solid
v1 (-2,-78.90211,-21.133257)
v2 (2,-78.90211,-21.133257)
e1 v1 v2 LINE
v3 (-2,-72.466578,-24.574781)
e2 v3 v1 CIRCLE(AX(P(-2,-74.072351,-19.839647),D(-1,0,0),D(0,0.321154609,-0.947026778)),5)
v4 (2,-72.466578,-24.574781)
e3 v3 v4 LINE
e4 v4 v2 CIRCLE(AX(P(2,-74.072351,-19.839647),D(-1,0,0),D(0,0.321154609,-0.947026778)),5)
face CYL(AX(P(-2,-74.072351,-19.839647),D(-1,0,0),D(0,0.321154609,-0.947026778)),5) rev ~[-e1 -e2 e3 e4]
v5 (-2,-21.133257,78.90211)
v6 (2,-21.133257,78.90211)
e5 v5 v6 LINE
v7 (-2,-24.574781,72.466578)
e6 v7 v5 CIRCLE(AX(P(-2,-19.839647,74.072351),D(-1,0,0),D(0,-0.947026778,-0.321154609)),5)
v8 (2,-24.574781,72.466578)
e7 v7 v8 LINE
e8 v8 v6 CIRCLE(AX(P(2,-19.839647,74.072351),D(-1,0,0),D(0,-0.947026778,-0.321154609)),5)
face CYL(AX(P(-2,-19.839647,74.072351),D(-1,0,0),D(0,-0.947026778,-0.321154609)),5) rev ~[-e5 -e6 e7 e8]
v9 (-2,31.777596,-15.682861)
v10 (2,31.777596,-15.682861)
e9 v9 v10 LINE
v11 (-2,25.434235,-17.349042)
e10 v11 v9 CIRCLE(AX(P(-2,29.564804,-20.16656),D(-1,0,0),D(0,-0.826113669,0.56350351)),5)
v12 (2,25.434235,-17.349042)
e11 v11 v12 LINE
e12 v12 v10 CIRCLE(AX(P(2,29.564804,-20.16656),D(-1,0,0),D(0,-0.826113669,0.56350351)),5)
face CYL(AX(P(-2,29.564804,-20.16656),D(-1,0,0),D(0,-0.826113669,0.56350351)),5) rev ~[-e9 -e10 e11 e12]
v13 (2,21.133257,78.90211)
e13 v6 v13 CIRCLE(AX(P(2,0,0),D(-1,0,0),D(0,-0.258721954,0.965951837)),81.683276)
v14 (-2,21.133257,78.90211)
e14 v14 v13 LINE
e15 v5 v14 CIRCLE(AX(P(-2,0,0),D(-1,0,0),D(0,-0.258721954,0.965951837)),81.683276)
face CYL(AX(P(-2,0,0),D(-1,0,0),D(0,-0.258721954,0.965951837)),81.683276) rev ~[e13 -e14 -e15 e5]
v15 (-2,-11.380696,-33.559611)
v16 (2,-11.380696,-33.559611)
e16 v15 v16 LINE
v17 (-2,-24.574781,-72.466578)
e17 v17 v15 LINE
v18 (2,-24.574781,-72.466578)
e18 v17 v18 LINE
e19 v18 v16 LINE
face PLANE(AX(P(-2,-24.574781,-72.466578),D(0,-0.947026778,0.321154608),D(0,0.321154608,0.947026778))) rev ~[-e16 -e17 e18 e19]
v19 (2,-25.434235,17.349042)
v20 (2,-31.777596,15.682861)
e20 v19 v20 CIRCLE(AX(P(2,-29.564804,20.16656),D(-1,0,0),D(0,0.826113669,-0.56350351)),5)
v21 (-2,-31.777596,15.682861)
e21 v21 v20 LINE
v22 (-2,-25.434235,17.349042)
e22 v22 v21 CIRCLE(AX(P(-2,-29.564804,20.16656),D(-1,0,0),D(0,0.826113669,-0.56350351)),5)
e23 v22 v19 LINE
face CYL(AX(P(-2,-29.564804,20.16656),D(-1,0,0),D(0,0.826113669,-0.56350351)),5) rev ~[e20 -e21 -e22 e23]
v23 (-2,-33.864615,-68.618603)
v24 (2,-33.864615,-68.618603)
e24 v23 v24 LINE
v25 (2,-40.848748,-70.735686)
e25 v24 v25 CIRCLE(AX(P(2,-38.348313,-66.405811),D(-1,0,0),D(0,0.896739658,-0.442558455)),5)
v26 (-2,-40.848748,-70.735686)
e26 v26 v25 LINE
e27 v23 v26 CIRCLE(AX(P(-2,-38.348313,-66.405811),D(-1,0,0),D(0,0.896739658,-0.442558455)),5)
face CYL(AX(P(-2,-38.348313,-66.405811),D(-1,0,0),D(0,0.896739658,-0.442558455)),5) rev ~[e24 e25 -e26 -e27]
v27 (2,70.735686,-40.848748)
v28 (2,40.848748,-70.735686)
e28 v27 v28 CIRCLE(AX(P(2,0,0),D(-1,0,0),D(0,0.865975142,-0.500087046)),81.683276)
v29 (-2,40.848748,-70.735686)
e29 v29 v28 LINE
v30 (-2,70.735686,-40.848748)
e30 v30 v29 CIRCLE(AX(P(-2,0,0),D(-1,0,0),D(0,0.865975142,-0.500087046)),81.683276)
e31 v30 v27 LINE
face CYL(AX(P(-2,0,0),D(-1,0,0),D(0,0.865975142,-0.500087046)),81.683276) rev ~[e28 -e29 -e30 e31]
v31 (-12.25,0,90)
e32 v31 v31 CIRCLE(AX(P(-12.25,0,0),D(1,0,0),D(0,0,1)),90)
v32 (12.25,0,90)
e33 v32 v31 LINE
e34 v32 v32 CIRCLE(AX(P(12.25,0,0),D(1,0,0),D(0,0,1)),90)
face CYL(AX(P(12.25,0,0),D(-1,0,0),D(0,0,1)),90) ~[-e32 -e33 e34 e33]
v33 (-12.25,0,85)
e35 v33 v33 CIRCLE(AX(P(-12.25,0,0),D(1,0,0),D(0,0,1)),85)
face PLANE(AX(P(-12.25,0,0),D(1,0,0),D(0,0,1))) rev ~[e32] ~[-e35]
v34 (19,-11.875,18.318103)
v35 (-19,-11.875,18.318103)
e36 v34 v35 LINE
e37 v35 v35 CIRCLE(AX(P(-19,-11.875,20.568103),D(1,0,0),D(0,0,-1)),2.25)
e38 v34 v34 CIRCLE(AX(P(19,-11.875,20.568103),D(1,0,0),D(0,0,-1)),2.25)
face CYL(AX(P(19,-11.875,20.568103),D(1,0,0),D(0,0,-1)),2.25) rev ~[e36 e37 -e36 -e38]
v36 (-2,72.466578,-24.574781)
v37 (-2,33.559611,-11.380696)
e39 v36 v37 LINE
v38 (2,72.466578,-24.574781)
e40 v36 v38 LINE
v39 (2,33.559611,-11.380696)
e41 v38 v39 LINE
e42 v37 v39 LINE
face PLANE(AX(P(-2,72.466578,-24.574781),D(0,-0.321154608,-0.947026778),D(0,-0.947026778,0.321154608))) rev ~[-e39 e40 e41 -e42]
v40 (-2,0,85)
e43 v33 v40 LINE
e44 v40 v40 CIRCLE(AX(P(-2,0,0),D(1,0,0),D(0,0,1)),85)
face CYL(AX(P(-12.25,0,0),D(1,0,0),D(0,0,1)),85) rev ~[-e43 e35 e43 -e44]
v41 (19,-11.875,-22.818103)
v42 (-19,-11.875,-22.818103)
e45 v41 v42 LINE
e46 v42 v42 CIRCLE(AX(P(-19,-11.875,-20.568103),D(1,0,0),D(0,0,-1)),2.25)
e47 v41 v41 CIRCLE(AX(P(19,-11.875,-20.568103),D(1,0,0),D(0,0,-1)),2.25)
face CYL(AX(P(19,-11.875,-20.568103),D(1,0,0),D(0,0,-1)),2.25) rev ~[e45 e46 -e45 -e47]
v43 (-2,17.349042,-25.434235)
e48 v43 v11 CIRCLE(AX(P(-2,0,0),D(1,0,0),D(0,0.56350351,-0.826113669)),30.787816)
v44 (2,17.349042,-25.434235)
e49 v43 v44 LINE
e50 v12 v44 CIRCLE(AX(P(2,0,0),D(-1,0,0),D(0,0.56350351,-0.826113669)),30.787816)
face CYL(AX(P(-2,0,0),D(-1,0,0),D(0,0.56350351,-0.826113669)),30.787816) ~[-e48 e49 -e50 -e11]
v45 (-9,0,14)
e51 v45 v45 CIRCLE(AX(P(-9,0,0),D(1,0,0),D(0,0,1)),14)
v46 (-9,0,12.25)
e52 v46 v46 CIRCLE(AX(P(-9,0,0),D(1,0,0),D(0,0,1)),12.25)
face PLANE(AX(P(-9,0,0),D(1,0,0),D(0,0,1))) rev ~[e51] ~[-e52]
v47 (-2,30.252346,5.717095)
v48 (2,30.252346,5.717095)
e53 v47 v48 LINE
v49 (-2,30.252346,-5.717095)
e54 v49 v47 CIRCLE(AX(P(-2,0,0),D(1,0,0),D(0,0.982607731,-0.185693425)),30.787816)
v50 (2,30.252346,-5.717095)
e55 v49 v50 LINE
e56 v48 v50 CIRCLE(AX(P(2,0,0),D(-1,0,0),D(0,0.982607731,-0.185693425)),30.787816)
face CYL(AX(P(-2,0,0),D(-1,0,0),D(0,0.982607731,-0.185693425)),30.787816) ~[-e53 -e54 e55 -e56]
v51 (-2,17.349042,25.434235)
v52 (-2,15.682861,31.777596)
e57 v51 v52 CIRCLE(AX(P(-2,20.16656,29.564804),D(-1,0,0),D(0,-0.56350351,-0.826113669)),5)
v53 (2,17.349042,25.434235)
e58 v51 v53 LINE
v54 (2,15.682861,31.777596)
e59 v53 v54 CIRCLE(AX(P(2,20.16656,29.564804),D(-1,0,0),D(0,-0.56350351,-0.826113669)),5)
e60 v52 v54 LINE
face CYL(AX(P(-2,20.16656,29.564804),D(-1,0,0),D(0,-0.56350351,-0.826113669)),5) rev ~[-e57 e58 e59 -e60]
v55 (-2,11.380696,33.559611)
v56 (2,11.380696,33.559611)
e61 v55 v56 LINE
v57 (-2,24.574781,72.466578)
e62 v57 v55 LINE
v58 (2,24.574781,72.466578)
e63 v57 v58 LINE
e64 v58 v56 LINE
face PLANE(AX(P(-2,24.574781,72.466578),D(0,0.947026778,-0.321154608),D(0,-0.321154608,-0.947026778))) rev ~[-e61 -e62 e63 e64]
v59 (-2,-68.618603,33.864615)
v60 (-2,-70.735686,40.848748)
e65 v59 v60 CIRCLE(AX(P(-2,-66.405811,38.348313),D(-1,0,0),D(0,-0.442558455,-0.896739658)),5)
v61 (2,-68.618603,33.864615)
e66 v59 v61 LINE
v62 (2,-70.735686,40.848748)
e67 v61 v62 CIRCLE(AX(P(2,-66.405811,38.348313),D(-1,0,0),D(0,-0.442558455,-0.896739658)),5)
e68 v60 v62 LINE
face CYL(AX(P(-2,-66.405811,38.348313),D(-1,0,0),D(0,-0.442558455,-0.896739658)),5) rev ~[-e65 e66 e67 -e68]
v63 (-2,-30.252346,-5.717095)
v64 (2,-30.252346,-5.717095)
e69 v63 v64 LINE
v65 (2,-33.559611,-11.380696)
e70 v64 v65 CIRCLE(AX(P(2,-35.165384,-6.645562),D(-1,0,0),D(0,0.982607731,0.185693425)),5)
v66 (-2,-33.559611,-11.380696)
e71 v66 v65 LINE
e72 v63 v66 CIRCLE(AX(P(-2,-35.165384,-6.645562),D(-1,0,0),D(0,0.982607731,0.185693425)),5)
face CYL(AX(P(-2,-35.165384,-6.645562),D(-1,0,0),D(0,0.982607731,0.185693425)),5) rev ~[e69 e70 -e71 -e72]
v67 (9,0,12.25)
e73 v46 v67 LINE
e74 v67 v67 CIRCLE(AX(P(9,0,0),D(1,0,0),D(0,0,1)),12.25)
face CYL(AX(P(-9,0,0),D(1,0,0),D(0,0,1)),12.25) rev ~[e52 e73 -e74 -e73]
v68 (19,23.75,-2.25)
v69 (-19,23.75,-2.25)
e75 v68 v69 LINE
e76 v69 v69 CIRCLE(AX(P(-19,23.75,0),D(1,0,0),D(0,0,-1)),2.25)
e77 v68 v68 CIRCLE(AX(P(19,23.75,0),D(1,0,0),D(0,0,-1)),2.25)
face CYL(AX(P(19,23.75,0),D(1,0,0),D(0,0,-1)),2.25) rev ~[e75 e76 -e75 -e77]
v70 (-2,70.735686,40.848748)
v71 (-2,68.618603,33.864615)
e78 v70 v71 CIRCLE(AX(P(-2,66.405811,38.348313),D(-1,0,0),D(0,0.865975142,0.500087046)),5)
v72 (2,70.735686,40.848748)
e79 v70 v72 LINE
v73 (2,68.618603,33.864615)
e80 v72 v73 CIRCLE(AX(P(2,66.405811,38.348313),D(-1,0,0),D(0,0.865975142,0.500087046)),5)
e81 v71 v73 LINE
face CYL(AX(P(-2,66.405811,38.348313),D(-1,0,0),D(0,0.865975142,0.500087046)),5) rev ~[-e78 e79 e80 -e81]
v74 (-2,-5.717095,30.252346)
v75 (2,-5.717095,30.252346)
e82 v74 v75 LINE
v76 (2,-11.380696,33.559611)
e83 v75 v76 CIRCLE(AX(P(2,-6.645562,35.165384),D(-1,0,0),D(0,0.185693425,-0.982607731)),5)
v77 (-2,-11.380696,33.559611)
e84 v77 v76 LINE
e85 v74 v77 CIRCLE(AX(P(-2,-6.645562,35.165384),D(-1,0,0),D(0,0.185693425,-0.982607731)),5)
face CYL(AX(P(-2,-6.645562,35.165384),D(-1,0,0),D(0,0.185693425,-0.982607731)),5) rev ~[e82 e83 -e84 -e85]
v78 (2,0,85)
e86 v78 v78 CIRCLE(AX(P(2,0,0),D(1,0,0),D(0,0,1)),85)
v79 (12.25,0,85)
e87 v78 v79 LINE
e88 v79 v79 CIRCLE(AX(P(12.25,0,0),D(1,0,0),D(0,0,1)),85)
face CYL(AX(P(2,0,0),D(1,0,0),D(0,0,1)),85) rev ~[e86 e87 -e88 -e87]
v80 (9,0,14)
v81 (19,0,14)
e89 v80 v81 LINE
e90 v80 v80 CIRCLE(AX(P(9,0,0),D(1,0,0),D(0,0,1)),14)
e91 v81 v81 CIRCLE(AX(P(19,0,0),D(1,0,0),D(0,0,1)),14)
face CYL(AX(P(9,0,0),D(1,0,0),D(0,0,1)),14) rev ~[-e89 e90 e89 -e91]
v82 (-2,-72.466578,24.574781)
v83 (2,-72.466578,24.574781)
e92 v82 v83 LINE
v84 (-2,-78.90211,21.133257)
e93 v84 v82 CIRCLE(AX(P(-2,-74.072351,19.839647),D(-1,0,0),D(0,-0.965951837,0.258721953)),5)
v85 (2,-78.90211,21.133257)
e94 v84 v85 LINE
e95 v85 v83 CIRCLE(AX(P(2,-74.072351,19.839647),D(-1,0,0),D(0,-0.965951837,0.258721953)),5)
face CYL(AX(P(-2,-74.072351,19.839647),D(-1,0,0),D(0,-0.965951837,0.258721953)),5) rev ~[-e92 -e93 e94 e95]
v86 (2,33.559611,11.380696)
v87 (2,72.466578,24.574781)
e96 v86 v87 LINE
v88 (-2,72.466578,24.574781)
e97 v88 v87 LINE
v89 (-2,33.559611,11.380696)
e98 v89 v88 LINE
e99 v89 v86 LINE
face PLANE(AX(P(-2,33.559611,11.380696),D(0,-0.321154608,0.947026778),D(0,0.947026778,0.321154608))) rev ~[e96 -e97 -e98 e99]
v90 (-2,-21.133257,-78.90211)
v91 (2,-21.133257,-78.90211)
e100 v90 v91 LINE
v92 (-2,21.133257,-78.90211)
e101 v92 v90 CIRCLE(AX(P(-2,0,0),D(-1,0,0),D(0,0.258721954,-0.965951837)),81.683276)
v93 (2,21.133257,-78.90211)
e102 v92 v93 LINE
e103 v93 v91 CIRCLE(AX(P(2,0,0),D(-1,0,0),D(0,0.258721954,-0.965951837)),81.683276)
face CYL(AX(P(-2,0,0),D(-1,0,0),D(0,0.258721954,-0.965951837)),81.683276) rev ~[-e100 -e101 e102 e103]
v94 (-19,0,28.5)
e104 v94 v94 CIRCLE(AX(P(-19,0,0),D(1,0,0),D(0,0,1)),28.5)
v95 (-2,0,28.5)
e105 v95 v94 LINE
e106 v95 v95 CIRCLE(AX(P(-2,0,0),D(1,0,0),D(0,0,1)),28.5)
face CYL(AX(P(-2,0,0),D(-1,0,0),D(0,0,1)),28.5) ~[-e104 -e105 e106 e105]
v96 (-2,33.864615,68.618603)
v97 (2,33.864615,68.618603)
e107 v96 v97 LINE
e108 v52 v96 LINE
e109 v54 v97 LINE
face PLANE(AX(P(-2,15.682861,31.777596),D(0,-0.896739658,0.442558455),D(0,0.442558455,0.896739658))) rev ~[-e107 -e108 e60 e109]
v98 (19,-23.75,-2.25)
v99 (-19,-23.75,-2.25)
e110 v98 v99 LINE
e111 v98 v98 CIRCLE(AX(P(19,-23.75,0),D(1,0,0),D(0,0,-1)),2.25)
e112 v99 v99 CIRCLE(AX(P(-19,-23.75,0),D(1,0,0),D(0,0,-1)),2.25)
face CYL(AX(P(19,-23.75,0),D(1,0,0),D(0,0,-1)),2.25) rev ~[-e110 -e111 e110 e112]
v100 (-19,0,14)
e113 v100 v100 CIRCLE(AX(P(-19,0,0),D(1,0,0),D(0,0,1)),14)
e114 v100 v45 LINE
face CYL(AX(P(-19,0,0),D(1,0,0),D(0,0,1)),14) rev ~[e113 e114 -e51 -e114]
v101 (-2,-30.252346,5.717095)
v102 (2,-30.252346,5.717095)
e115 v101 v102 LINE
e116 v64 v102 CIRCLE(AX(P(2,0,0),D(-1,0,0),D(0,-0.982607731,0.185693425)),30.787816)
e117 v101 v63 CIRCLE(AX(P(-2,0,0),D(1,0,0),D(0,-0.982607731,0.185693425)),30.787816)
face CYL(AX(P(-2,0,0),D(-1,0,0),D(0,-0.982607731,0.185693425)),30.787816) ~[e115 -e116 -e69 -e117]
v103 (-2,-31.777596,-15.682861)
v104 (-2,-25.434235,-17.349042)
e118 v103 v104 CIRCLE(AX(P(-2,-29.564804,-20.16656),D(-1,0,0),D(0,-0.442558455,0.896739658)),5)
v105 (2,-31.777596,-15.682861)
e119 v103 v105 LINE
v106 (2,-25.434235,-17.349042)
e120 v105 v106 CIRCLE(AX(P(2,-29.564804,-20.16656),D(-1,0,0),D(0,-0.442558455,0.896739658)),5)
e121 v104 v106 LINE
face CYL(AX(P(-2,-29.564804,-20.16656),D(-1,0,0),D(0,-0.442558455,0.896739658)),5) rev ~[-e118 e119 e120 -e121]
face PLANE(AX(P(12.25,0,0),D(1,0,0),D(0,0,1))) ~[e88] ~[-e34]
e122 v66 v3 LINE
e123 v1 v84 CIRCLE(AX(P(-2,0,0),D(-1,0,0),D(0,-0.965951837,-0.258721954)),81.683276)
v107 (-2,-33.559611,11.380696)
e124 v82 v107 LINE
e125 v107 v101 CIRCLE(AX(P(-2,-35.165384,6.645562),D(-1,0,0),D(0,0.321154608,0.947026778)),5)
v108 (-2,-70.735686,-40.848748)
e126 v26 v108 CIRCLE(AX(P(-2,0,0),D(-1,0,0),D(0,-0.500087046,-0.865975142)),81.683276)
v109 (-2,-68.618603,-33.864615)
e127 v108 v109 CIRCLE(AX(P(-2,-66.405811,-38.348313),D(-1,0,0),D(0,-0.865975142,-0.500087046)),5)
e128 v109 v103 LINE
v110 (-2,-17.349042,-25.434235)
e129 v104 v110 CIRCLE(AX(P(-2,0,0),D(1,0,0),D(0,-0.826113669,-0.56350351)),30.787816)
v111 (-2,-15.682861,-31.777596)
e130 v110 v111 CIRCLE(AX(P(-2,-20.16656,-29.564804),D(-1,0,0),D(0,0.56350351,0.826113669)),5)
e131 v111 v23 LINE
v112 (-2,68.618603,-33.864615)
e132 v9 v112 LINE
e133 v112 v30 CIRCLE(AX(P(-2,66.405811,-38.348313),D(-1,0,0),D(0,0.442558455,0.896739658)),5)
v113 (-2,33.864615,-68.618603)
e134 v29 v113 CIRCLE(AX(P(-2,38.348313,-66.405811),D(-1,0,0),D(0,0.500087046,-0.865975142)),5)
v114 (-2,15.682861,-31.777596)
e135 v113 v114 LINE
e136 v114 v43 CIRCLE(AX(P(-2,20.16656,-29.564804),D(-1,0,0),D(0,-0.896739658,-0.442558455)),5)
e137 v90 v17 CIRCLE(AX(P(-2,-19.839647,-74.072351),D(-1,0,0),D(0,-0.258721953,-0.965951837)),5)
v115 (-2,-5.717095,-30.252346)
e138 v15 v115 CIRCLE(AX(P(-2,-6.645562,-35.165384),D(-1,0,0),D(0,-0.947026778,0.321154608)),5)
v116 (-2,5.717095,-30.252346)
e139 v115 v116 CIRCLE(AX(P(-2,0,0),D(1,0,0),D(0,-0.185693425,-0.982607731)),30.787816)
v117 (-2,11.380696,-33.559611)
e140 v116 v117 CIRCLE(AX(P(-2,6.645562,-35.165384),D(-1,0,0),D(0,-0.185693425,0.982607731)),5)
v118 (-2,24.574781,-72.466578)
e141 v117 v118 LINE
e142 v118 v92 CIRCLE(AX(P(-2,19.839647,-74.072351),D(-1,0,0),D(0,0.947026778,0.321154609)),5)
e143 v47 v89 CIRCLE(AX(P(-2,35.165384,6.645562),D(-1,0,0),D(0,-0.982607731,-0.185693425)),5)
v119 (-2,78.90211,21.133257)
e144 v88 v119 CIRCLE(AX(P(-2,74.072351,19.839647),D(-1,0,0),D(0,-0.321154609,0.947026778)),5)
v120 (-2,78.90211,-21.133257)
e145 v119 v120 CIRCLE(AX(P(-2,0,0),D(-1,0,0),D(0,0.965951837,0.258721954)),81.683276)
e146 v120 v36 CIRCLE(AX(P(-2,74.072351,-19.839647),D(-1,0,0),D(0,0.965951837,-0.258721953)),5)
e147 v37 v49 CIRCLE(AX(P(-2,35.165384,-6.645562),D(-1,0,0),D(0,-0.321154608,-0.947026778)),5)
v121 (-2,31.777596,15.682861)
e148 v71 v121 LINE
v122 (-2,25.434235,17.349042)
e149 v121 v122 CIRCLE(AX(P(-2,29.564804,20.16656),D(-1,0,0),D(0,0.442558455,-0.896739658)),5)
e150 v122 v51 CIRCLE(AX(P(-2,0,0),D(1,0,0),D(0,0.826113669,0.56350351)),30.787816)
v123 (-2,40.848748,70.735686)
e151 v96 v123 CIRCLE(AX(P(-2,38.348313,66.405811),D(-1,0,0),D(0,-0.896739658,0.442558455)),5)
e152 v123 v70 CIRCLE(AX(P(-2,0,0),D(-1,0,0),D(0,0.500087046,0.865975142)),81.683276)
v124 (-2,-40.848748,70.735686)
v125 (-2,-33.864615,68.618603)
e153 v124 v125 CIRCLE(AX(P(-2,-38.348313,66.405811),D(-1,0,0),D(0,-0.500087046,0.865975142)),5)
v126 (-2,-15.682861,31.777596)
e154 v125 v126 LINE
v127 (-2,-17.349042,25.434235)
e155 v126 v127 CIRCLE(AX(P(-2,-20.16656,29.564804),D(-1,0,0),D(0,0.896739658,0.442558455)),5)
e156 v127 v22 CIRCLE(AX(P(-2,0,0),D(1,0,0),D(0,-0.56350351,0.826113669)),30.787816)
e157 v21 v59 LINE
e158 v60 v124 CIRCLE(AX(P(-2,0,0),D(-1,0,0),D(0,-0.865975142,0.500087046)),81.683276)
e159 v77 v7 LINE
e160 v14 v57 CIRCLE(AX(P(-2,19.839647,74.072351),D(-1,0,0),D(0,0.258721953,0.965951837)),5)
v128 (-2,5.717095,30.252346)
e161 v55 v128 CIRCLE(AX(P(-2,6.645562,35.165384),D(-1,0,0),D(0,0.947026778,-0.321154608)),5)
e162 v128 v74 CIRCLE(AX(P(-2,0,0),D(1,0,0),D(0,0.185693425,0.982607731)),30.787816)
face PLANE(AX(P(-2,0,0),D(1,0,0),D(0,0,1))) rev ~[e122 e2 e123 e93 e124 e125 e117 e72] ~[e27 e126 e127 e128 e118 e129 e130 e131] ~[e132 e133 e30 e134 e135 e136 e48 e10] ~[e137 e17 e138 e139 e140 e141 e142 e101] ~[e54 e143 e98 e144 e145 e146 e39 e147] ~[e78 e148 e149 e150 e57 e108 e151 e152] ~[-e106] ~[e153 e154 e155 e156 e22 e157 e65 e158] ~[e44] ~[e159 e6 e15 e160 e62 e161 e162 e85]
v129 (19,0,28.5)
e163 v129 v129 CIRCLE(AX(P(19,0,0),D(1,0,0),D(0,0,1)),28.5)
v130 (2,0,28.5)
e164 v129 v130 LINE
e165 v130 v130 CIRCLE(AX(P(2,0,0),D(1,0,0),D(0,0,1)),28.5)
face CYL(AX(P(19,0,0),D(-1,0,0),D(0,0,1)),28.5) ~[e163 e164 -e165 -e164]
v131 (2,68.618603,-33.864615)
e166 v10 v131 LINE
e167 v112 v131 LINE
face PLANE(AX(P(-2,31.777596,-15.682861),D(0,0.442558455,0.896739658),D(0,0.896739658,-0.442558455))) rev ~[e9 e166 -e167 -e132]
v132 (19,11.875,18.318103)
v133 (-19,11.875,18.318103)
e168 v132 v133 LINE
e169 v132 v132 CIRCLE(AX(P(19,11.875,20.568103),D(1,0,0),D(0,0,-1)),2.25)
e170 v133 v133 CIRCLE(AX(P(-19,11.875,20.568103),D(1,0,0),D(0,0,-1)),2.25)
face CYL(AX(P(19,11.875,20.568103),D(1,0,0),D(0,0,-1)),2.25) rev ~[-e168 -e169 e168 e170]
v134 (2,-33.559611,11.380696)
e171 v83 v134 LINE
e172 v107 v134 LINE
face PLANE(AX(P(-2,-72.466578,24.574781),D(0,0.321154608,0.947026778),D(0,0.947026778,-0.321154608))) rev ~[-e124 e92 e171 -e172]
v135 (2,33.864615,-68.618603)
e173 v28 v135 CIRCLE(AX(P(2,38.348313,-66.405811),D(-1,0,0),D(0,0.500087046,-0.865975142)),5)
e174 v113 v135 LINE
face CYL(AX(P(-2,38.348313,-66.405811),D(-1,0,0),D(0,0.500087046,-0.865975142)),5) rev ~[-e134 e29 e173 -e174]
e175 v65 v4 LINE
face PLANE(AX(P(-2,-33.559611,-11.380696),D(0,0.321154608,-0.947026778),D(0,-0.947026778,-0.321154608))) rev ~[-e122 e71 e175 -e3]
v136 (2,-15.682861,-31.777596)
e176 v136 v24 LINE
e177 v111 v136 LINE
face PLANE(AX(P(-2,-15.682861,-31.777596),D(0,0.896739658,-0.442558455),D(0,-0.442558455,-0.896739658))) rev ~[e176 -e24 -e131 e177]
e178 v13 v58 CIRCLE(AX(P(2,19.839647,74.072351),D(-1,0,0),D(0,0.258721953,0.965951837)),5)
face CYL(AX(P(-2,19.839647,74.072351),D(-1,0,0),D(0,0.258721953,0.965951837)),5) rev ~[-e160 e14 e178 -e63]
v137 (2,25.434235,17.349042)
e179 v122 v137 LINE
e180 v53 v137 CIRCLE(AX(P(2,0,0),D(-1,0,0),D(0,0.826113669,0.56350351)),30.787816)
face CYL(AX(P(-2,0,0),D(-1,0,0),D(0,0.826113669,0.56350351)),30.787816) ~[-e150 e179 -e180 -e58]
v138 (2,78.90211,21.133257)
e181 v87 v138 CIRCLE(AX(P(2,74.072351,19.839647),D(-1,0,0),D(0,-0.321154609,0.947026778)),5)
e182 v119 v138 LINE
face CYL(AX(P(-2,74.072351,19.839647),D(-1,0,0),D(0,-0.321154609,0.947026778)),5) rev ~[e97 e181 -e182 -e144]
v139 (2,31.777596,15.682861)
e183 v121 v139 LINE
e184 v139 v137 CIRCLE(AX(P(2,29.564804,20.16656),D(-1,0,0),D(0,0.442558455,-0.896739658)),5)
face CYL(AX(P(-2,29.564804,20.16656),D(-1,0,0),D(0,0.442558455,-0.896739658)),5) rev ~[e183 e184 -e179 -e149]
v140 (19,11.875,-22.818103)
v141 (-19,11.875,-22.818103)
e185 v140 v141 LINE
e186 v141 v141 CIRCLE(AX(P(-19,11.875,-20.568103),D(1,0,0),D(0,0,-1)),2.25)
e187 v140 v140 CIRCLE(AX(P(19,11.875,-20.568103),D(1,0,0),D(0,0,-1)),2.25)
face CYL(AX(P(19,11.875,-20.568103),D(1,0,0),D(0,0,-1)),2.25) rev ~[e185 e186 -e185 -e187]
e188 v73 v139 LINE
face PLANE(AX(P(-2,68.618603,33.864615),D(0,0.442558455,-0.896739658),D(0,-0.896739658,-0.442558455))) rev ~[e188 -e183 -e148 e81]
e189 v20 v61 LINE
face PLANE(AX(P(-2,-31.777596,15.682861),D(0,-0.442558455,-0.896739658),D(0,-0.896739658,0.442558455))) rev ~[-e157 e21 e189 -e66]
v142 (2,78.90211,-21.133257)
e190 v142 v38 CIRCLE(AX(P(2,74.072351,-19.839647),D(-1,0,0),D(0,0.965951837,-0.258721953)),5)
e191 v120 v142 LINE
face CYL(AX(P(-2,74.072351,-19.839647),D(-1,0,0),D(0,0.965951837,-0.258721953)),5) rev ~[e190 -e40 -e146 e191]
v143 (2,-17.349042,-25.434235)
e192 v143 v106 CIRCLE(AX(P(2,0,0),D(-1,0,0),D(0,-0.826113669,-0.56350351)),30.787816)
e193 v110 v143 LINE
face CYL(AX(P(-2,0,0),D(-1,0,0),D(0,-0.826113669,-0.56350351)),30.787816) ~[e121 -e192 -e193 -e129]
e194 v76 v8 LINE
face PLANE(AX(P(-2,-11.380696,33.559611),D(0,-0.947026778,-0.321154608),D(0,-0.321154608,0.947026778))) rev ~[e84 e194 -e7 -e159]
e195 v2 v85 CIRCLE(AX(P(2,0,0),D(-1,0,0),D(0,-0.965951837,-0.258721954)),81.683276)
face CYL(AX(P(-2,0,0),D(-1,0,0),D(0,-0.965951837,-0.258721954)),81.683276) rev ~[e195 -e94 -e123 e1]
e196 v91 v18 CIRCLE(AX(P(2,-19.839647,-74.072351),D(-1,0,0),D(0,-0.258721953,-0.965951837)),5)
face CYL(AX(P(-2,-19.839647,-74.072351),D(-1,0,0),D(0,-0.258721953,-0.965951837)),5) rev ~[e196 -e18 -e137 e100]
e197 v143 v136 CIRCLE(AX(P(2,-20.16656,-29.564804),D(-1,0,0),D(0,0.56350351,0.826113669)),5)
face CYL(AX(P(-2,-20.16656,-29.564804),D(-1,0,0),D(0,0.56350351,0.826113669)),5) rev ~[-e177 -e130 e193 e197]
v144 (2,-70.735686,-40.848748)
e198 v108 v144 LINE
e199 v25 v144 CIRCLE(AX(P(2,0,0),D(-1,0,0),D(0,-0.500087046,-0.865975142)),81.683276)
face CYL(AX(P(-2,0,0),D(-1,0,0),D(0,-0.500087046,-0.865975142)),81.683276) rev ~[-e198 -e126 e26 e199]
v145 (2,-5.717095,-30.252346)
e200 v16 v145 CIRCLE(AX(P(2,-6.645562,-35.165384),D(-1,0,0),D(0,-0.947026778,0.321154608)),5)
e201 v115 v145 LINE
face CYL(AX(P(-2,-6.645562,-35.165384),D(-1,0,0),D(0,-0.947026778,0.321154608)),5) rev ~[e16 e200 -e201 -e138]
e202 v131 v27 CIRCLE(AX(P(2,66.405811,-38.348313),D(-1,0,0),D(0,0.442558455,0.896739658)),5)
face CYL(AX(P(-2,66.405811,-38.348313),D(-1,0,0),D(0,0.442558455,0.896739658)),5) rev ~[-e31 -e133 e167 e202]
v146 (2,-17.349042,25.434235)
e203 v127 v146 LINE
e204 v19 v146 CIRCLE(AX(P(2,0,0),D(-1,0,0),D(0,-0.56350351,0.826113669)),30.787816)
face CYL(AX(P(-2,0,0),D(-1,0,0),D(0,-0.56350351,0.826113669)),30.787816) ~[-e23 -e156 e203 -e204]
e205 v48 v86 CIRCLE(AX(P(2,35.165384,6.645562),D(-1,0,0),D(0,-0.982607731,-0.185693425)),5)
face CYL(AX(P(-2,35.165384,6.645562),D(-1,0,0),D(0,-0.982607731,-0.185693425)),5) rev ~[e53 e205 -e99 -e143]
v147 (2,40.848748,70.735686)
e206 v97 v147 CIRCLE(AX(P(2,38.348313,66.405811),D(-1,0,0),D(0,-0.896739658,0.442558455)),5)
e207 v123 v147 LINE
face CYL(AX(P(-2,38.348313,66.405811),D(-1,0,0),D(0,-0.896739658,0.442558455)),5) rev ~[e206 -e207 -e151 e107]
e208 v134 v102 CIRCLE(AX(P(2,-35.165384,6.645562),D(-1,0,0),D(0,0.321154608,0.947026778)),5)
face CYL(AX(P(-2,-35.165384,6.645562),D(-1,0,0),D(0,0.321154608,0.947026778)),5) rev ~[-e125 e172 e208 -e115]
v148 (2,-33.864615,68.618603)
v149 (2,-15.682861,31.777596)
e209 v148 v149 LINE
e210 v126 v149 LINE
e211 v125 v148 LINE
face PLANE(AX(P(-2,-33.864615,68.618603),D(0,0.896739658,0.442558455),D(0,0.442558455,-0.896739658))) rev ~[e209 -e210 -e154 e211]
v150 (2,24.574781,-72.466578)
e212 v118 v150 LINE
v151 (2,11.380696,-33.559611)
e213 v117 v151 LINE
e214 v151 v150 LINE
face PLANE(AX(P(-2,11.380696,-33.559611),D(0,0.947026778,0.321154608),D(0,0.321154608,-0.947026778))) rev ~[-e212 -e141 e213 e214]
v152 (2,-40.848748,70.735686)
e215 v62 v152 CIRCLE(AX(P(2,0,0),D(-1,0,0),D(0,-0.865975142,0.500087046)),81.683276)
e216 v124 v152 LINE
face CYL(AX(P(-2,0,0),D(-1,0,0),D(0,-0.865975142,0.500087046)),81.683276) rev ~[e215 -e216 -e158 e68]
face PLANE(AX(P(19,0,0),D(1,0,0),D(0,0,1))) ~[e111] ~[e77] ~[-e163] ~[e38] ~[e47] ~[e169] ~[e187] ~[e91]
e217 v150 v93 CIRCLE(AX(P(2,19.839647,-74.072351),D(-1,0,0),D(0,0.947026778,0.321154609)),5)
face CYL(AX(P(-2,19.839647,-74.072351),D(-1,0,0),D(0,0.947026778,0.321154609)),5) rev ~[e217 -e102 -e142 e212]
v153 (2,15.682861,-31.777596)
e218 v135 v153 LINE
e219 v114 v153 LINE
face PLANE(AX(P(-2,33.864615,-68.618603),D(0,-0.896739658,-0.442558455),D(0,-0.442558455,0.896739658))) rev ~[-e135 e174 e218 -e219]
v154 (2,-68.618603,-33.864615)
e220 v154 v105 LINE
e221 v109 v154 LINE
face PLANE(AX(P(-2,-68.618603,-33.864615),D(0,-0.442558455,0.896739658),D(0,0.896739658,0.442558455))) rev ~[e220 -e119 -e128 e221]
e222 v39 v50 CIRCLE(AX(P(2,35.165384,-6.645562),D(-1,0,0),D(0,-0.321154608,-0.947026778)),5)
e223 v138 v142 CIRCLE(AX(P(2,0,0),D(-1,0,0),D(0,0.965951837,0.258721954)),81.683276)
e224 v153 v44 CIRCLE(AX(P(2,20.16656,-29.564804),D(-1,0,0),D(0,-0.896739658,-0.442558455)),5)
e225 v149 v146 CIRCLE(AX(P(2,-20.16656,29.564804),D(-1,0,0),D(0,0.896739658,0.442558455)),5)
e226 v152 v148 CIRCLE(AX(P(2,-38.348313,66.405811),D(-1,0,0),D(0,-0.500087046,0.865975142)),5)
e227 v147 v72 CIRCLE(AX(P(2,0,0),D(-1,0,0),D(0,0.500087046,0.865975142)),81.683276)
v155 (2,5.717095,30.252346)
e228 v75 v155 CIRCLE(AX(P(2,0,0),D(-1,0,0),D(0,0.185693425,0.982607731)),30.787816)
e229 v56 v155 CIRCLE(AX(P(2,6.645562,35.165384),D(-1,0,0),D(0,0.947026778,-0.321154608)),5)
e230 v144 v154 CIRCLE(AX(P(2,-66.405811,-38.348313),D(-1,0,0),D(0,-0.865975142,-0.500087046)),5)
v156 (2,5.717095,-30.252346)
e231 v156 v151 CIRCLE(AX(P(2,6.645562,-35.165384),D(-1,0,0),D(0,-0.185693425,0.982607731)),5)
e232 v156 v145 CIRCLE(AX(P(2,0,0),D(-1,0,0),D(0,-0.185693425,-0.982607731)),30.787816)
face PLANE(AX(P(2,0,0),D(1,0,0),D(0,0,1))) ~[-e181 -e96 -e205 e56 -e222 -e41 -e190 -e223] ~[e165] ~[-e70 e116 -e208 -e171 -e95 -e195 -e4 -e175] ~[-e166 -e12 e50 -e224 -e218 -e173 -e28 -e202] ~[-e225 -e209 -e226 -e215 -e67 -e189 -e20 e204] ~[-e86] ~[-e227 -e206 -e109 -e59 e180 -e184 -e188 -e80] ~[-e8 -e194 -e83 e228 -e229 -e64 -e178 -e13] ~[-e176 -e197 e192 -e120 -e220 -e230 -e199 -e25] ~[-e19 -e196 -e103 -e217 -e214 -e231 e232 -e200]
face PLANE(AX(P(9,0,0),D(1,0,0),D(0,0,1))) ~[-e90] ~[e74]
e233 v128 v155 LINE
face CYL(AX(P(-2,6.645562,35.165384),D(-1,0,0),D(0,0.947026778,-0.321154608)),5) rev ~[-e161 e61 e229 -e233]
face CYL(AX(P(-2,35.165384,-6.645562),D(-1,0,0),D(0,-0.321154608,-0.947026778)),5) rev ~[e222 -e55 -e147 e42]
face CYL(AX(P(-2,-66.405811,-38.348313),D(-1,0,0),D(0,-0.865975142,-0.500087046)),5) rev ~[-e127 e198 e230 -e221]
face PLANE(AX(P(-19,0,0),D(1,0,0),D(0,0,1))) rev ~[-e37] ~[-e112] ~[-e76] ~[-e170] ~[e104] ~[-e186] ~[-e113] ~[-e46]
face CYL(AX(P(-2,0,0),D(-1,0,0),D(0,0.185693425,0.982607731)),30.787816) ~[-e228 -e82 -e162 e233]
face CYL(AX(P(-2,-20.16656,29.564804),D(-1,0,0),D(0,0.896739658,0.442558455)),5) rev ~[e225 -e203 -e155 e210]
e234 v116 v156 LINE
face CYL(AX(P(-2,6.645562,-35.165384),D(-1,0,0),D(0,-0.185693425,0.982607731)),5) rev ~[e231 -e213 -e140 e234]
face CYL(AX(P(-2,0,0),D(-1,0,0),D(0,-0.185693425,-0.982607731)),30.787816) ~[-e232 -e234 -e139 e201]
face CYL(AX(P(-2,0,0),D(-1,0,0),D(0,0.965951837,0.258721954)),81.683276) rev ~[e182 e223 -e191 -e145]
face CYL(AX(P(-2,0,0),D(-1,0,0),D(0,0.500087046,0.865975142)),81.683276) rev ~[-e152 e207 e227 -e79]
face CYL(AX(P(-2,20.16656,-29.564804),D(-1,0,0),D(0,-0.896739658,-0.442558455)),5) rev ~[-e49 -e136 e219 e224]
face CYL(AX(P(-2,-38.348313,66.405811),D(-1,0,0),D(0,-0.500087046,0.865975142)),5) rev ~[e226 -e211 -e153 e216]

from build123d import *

# Parameters (mm, degrees)
SKETCH2_R          = 2.25
CUT_EXTRUDE1_DEPTH = 40
CUT_EXTRUDE2_DEPTH = 40


with BuildPart() as part:
    # Sketch1 → Revolve1 (revolve)
    with BuildSketch(Plane(origin=(0, 0, 0), x_dir=(1, 0, 0), z_dir=(0, 1, 0)), mode=Mode.PRIVATE) as revolve1_sk:
        Polygon((-9, 12.25), (9, 12.25), (9, 14), (19, 14), (19, 28.5), (2, 28.5), (2, 85), (12.25, 85), (12.25, 90), (-12.25, 90), (-12.25, 85), (-2, 85), (-2, 28.5), (-19, 28.5), (-19, 14), (-9, 14), align=None)
    revolve(revolve1_sk.sketch.rotate(Axis((0, 0, 0), (1, 0, 0)), 180), axis=Axis((0, 0, 0), (1, 0, 0)))

    # Sketch2 → Cut-Extrude1 (cut)
    with BuildSketch(Plane(origin=(19, 0, 0), x_dir=(0, 0, -1), z_dir=(1, 0, 0))):
        with Locations((0, 23.75)):
            Circle(SKETCH2_R)
        with Locations((20.56810334, 11.875)):
            Circle(SKETCH2_R)
        with Locations((20.56810334, -11.875)):
            Circle(SKETCH2_R)
        with Locations((0, -23.75)):
            Circle(SKETCH2_R)
        with Locations((-20.56810334, -11.875)):
            Circle(SKETCH2_R)
        with Locations((-20.56810334, 11.875)):
            Circle(SKETCH2_R)
    extrude(amount=-CUT_EXTRUDE1_DEPTH, mode=Mode.SUBTRACT)

    # Sketch3 → Cut-Extrude2 (cut)
    with BuildSketch(Plane.ZY.offset(2)):
        with BuildLine():
            Line((33.864614623, 68.618602963), (15.68286139, 31.777595908))
            ThreePointArc((15.68286139, 31.777595908), (15.330601224, 28.294565139), (17.34904213, 25.434235286))
            ThreePointArc((17.34904213, 25.434235286), (21.770273165, 21.770273165), (25.434235286, 17.34904213))
            ThreePointArc((25.434235286, 17.34904213), (28.294565139, 15.330601224), (31.777595908, 15.68286139))
            Line((31.777595908, 15.68286139), (68.618602963, 33.864614623))
            ThreePointArc((68.618602963, 33.864614623), (71.190803513, 36.897849656), (70.735686396, 40.848748142))
            ThreePointArc((70.735686396, 40.848748142), (57.758798268, 57.758798268), (40.848748142, 70.735686396))
            ThreePointArc((40.848748142, 70.735686396), (36.897849656, 71.190803513), (33.864614623, 68.618602963))
        make_face()
        with BuildLine():
            Line((72.466578112, 24.574780828), (33.559611194, 11.380695919))
            ThreePointArc((33.559611194, 11.380695919), (30.847650966, 9.166906795), (30.252345582, 5.717094908))
            ThreePointArc((30.252345582, 5.717094908), (30.787815567, 0), (30.252345582, -5.717094908))
            ThreePointArc((30.252345582, -5.717094908), (30.847650966, -9.166906795), (33.559611194, -11.380695919))
            Line((33.559611194, -11.380695919), (72.466578112, -24.574780828))
            ThreePointArc((72.466578112, -24.574780828), (76.430219625, -24.248780219), (78.902110336, -21.133256708))
            ThreePointArc((78.902110336, -21.133256708), (81.683275856, 0), (78.902110336, 21.133256708))
            ThreePointArc((78.902110336, 21.133256708), (76.430219625, 24.248780219), (72.466578112, 24.574780828))
        make_face()
        with BuildLine():
            Line((-24.574780828, 72.466578112), (-11.380695919, 33.559611194))
            ThreePointArc((-11.380695919, 33.559611194), (-9.166906795, 30.847650966), (-5.717094908, 30.252345582))
            ThreePointArc((-5.717094908, 30.252345582), (0, 30.787815567), (5.717094908, 30.252345582))
            ThreePointArc((5.717094908, 30.252345582), (9.166906795, 30.847650966), (11.380695919, 33.559611194))
            Line((11.380695919, 33.559611194), (24.574780828, 72.466578112))
            ThreePointArc((24.574780828, 72.466578112), (24.248780219, 76.430219625), (21.133256708, 78.902110336))
            ThreePointArc((21.133256708, 78.902110336), (0, 81.683275856), (-21.133256708, 78.902110336))
            ThreePointArc((-21.133256708, 78.902110336), (-24.248780219, 76.430219625), (-24.574780828, 72.466578112))
        make_face()
        with BuildLine():
            Line((68.618602963, -33.864614623), (31.777595908, -15.68286139))
            ThreePointArc((31.777595908, -15.68286139), (28.294565139, -15.330601224), (25.434235286, -17.34904213))
            ThreePointArc((25.434235286, -17.34904213), (21.770273165, -21.770273165), (17.34904213, -25.434235286))
            ThreePointArc((17.34904213, -25.434235286), (15.330601224, -28.294565139), (15.68286139, -31.777595908))
            Line((15.68286139, -31.777595908), (33.864614623, -68.618602963))
            ThreePointArc((33.864614623, -68.618602963), (36.897849656, -71.190803513), (40.848748142, -70.735686396))
            ThreePointArc((40.848748142, -70.735686396), (57.758798268, -57.758798268), (70.735686396, -40.848748142))
            ThreePointArc((70.735686396, -40.848748142), (71.190803513, -36.897849656), (68.618602963, -33.864614623))
        make_face()
        with BuildLine():
            Line((24.574780828, -72.466578112), (11.380695919, -33.559611194))
            ThreePointArc((11.380695919, -33.559611194), (9.166906795, -30.847650966), (5.717094908, -30.252345582))
            ThreePointArc((5.717094908, -30.252345582), (0, -30.787815567), (-5.717094908, -30.252345582))
            ThreePointArc((-5.717094908, -30.252345582), (-9.166906795, -30.847650966), (-11.380695919, -33.559611194))
            Line((-11.380695919, -33.559611194), (-24.574780828, -72.466578112))
            ThreePointArc((-24.574780828, -72.466578112), (-24.248780219, -76.430219625), (-21.133256708, -78.902110336))
            ThreePointArc((-21.133256708, -78.902110336), (0, -81.683275856), (21.133256708, -78.902110336))
            ThreePointArc((21.133256708, -78.902110336), (24.248780219, -76.430219625), (24.574780828, -72.466578112))
        make_face()
        with BuildLine():
            Line((-33.864614623, -68.618602963), (-15.68286139, -31.777595908))
            ThreePointArc((-15.68286139, -31.777595908), (-15.330601224, -28.294565139), (-17.34904213, -25.434235286))
            ThreePointArc((-17.34904213, -25.434235286), (-21.770273165, -21.770273165), (-25.434235286, -17.34904213))
            ThreePointArc((-25.434235286, -17.34904213), (-28.294565139, -15.330601224), (-31.777595908, -15.68286139))
            Line((-31.777595908, -15.68286139), (-68.618602963, -33.864614623))
            ThreePointArc((-68.618602963, -33.864614623), (-71.190803513, -36.897849656), (-70.735686396, -40.848748142))
            ThreePointArc((-70.735686396, -40.848748142), (-57.758798268, -57.758798268), (-40.848748142, -70.735686396))
            ThreePointArc((-40.848748142, -70.735686396), (-36.897849656, -71.190803513), (-33.864614623, -68.618602963))
        make_face()
        with BuildLine():
            Line((-72.466578112, -24.574780828), (-33.559611194, -11.380695919))
            ThreePointArc((-33.559611194, -11.380695919), (-30.847650966, -9.166906795), (-30.252345582, -5.717094908))
            ThreePointArc((-30.252345582, -5.717094908), (-30.787815567, 0), (-30.252345582, 5.717094908))
            ThreePointArc((-30.252345582, 5.717094908), (-30.847650966, 9.166906795), (-33.559611194, 11.380695919))
            Line((-33.559611194, 11.380695919), (-72.466578112, 24.574780828))
            ThreePointArc((-72.466578112, 24.574780828), (-76.430219625, 24.248780219), (-78.902110336, 21.133256708))
            ThreePointArc((-78.902110336, 21.133256708), (-81.683275856, 0), (-78.902110336, -21.133256708))
            ThreePointArc((-78.902110336, -21.133256708), (-76.430219625, -24.248780219), (-72.466578112, -24.574780828))
        make_face()
        with BuildLine():
            Line((-68.618602963, 33.864614623), (-31.777595908, 15.68286139))
            ThreePointArc((-31.777595908, 15.68286139), (-28.294565139, 15.330601224), (-25.434235286, 17.34904213))
            ThreePointArc((-25.434235286, 17.34904213), (-21.770273165, 21.770273165), (-17.34904213, 25.434235286))
            ThreePointArc((-17.34904213, 25.434235286), (-15.330601224, 28.294565139), (-15.68286139, 31.777595908))
            Line((-15.68286139, 31.777595908), (-33.864614623, 68.618602963))
            ThreePointArc((-33.864614623, 68.618602963), (-36.897849656, 71.190803513), (-40.848748142, 70.735686396))
            ThreePointArc((-40.848748142, 70.735686396), (-57.758798268, 57.758798268), (-70.735686396, 40.848748142))
            ThreePointArc((-70.735686396, 40.848748142), (-71.190803513, 36.897849656), (-68.618602963, 33.864614623))
        make_face()
    extrude(amount=-CUT_EXTRUDE2_DEPTH, mode=Mode.SUBTRACT)


solid = part.part
